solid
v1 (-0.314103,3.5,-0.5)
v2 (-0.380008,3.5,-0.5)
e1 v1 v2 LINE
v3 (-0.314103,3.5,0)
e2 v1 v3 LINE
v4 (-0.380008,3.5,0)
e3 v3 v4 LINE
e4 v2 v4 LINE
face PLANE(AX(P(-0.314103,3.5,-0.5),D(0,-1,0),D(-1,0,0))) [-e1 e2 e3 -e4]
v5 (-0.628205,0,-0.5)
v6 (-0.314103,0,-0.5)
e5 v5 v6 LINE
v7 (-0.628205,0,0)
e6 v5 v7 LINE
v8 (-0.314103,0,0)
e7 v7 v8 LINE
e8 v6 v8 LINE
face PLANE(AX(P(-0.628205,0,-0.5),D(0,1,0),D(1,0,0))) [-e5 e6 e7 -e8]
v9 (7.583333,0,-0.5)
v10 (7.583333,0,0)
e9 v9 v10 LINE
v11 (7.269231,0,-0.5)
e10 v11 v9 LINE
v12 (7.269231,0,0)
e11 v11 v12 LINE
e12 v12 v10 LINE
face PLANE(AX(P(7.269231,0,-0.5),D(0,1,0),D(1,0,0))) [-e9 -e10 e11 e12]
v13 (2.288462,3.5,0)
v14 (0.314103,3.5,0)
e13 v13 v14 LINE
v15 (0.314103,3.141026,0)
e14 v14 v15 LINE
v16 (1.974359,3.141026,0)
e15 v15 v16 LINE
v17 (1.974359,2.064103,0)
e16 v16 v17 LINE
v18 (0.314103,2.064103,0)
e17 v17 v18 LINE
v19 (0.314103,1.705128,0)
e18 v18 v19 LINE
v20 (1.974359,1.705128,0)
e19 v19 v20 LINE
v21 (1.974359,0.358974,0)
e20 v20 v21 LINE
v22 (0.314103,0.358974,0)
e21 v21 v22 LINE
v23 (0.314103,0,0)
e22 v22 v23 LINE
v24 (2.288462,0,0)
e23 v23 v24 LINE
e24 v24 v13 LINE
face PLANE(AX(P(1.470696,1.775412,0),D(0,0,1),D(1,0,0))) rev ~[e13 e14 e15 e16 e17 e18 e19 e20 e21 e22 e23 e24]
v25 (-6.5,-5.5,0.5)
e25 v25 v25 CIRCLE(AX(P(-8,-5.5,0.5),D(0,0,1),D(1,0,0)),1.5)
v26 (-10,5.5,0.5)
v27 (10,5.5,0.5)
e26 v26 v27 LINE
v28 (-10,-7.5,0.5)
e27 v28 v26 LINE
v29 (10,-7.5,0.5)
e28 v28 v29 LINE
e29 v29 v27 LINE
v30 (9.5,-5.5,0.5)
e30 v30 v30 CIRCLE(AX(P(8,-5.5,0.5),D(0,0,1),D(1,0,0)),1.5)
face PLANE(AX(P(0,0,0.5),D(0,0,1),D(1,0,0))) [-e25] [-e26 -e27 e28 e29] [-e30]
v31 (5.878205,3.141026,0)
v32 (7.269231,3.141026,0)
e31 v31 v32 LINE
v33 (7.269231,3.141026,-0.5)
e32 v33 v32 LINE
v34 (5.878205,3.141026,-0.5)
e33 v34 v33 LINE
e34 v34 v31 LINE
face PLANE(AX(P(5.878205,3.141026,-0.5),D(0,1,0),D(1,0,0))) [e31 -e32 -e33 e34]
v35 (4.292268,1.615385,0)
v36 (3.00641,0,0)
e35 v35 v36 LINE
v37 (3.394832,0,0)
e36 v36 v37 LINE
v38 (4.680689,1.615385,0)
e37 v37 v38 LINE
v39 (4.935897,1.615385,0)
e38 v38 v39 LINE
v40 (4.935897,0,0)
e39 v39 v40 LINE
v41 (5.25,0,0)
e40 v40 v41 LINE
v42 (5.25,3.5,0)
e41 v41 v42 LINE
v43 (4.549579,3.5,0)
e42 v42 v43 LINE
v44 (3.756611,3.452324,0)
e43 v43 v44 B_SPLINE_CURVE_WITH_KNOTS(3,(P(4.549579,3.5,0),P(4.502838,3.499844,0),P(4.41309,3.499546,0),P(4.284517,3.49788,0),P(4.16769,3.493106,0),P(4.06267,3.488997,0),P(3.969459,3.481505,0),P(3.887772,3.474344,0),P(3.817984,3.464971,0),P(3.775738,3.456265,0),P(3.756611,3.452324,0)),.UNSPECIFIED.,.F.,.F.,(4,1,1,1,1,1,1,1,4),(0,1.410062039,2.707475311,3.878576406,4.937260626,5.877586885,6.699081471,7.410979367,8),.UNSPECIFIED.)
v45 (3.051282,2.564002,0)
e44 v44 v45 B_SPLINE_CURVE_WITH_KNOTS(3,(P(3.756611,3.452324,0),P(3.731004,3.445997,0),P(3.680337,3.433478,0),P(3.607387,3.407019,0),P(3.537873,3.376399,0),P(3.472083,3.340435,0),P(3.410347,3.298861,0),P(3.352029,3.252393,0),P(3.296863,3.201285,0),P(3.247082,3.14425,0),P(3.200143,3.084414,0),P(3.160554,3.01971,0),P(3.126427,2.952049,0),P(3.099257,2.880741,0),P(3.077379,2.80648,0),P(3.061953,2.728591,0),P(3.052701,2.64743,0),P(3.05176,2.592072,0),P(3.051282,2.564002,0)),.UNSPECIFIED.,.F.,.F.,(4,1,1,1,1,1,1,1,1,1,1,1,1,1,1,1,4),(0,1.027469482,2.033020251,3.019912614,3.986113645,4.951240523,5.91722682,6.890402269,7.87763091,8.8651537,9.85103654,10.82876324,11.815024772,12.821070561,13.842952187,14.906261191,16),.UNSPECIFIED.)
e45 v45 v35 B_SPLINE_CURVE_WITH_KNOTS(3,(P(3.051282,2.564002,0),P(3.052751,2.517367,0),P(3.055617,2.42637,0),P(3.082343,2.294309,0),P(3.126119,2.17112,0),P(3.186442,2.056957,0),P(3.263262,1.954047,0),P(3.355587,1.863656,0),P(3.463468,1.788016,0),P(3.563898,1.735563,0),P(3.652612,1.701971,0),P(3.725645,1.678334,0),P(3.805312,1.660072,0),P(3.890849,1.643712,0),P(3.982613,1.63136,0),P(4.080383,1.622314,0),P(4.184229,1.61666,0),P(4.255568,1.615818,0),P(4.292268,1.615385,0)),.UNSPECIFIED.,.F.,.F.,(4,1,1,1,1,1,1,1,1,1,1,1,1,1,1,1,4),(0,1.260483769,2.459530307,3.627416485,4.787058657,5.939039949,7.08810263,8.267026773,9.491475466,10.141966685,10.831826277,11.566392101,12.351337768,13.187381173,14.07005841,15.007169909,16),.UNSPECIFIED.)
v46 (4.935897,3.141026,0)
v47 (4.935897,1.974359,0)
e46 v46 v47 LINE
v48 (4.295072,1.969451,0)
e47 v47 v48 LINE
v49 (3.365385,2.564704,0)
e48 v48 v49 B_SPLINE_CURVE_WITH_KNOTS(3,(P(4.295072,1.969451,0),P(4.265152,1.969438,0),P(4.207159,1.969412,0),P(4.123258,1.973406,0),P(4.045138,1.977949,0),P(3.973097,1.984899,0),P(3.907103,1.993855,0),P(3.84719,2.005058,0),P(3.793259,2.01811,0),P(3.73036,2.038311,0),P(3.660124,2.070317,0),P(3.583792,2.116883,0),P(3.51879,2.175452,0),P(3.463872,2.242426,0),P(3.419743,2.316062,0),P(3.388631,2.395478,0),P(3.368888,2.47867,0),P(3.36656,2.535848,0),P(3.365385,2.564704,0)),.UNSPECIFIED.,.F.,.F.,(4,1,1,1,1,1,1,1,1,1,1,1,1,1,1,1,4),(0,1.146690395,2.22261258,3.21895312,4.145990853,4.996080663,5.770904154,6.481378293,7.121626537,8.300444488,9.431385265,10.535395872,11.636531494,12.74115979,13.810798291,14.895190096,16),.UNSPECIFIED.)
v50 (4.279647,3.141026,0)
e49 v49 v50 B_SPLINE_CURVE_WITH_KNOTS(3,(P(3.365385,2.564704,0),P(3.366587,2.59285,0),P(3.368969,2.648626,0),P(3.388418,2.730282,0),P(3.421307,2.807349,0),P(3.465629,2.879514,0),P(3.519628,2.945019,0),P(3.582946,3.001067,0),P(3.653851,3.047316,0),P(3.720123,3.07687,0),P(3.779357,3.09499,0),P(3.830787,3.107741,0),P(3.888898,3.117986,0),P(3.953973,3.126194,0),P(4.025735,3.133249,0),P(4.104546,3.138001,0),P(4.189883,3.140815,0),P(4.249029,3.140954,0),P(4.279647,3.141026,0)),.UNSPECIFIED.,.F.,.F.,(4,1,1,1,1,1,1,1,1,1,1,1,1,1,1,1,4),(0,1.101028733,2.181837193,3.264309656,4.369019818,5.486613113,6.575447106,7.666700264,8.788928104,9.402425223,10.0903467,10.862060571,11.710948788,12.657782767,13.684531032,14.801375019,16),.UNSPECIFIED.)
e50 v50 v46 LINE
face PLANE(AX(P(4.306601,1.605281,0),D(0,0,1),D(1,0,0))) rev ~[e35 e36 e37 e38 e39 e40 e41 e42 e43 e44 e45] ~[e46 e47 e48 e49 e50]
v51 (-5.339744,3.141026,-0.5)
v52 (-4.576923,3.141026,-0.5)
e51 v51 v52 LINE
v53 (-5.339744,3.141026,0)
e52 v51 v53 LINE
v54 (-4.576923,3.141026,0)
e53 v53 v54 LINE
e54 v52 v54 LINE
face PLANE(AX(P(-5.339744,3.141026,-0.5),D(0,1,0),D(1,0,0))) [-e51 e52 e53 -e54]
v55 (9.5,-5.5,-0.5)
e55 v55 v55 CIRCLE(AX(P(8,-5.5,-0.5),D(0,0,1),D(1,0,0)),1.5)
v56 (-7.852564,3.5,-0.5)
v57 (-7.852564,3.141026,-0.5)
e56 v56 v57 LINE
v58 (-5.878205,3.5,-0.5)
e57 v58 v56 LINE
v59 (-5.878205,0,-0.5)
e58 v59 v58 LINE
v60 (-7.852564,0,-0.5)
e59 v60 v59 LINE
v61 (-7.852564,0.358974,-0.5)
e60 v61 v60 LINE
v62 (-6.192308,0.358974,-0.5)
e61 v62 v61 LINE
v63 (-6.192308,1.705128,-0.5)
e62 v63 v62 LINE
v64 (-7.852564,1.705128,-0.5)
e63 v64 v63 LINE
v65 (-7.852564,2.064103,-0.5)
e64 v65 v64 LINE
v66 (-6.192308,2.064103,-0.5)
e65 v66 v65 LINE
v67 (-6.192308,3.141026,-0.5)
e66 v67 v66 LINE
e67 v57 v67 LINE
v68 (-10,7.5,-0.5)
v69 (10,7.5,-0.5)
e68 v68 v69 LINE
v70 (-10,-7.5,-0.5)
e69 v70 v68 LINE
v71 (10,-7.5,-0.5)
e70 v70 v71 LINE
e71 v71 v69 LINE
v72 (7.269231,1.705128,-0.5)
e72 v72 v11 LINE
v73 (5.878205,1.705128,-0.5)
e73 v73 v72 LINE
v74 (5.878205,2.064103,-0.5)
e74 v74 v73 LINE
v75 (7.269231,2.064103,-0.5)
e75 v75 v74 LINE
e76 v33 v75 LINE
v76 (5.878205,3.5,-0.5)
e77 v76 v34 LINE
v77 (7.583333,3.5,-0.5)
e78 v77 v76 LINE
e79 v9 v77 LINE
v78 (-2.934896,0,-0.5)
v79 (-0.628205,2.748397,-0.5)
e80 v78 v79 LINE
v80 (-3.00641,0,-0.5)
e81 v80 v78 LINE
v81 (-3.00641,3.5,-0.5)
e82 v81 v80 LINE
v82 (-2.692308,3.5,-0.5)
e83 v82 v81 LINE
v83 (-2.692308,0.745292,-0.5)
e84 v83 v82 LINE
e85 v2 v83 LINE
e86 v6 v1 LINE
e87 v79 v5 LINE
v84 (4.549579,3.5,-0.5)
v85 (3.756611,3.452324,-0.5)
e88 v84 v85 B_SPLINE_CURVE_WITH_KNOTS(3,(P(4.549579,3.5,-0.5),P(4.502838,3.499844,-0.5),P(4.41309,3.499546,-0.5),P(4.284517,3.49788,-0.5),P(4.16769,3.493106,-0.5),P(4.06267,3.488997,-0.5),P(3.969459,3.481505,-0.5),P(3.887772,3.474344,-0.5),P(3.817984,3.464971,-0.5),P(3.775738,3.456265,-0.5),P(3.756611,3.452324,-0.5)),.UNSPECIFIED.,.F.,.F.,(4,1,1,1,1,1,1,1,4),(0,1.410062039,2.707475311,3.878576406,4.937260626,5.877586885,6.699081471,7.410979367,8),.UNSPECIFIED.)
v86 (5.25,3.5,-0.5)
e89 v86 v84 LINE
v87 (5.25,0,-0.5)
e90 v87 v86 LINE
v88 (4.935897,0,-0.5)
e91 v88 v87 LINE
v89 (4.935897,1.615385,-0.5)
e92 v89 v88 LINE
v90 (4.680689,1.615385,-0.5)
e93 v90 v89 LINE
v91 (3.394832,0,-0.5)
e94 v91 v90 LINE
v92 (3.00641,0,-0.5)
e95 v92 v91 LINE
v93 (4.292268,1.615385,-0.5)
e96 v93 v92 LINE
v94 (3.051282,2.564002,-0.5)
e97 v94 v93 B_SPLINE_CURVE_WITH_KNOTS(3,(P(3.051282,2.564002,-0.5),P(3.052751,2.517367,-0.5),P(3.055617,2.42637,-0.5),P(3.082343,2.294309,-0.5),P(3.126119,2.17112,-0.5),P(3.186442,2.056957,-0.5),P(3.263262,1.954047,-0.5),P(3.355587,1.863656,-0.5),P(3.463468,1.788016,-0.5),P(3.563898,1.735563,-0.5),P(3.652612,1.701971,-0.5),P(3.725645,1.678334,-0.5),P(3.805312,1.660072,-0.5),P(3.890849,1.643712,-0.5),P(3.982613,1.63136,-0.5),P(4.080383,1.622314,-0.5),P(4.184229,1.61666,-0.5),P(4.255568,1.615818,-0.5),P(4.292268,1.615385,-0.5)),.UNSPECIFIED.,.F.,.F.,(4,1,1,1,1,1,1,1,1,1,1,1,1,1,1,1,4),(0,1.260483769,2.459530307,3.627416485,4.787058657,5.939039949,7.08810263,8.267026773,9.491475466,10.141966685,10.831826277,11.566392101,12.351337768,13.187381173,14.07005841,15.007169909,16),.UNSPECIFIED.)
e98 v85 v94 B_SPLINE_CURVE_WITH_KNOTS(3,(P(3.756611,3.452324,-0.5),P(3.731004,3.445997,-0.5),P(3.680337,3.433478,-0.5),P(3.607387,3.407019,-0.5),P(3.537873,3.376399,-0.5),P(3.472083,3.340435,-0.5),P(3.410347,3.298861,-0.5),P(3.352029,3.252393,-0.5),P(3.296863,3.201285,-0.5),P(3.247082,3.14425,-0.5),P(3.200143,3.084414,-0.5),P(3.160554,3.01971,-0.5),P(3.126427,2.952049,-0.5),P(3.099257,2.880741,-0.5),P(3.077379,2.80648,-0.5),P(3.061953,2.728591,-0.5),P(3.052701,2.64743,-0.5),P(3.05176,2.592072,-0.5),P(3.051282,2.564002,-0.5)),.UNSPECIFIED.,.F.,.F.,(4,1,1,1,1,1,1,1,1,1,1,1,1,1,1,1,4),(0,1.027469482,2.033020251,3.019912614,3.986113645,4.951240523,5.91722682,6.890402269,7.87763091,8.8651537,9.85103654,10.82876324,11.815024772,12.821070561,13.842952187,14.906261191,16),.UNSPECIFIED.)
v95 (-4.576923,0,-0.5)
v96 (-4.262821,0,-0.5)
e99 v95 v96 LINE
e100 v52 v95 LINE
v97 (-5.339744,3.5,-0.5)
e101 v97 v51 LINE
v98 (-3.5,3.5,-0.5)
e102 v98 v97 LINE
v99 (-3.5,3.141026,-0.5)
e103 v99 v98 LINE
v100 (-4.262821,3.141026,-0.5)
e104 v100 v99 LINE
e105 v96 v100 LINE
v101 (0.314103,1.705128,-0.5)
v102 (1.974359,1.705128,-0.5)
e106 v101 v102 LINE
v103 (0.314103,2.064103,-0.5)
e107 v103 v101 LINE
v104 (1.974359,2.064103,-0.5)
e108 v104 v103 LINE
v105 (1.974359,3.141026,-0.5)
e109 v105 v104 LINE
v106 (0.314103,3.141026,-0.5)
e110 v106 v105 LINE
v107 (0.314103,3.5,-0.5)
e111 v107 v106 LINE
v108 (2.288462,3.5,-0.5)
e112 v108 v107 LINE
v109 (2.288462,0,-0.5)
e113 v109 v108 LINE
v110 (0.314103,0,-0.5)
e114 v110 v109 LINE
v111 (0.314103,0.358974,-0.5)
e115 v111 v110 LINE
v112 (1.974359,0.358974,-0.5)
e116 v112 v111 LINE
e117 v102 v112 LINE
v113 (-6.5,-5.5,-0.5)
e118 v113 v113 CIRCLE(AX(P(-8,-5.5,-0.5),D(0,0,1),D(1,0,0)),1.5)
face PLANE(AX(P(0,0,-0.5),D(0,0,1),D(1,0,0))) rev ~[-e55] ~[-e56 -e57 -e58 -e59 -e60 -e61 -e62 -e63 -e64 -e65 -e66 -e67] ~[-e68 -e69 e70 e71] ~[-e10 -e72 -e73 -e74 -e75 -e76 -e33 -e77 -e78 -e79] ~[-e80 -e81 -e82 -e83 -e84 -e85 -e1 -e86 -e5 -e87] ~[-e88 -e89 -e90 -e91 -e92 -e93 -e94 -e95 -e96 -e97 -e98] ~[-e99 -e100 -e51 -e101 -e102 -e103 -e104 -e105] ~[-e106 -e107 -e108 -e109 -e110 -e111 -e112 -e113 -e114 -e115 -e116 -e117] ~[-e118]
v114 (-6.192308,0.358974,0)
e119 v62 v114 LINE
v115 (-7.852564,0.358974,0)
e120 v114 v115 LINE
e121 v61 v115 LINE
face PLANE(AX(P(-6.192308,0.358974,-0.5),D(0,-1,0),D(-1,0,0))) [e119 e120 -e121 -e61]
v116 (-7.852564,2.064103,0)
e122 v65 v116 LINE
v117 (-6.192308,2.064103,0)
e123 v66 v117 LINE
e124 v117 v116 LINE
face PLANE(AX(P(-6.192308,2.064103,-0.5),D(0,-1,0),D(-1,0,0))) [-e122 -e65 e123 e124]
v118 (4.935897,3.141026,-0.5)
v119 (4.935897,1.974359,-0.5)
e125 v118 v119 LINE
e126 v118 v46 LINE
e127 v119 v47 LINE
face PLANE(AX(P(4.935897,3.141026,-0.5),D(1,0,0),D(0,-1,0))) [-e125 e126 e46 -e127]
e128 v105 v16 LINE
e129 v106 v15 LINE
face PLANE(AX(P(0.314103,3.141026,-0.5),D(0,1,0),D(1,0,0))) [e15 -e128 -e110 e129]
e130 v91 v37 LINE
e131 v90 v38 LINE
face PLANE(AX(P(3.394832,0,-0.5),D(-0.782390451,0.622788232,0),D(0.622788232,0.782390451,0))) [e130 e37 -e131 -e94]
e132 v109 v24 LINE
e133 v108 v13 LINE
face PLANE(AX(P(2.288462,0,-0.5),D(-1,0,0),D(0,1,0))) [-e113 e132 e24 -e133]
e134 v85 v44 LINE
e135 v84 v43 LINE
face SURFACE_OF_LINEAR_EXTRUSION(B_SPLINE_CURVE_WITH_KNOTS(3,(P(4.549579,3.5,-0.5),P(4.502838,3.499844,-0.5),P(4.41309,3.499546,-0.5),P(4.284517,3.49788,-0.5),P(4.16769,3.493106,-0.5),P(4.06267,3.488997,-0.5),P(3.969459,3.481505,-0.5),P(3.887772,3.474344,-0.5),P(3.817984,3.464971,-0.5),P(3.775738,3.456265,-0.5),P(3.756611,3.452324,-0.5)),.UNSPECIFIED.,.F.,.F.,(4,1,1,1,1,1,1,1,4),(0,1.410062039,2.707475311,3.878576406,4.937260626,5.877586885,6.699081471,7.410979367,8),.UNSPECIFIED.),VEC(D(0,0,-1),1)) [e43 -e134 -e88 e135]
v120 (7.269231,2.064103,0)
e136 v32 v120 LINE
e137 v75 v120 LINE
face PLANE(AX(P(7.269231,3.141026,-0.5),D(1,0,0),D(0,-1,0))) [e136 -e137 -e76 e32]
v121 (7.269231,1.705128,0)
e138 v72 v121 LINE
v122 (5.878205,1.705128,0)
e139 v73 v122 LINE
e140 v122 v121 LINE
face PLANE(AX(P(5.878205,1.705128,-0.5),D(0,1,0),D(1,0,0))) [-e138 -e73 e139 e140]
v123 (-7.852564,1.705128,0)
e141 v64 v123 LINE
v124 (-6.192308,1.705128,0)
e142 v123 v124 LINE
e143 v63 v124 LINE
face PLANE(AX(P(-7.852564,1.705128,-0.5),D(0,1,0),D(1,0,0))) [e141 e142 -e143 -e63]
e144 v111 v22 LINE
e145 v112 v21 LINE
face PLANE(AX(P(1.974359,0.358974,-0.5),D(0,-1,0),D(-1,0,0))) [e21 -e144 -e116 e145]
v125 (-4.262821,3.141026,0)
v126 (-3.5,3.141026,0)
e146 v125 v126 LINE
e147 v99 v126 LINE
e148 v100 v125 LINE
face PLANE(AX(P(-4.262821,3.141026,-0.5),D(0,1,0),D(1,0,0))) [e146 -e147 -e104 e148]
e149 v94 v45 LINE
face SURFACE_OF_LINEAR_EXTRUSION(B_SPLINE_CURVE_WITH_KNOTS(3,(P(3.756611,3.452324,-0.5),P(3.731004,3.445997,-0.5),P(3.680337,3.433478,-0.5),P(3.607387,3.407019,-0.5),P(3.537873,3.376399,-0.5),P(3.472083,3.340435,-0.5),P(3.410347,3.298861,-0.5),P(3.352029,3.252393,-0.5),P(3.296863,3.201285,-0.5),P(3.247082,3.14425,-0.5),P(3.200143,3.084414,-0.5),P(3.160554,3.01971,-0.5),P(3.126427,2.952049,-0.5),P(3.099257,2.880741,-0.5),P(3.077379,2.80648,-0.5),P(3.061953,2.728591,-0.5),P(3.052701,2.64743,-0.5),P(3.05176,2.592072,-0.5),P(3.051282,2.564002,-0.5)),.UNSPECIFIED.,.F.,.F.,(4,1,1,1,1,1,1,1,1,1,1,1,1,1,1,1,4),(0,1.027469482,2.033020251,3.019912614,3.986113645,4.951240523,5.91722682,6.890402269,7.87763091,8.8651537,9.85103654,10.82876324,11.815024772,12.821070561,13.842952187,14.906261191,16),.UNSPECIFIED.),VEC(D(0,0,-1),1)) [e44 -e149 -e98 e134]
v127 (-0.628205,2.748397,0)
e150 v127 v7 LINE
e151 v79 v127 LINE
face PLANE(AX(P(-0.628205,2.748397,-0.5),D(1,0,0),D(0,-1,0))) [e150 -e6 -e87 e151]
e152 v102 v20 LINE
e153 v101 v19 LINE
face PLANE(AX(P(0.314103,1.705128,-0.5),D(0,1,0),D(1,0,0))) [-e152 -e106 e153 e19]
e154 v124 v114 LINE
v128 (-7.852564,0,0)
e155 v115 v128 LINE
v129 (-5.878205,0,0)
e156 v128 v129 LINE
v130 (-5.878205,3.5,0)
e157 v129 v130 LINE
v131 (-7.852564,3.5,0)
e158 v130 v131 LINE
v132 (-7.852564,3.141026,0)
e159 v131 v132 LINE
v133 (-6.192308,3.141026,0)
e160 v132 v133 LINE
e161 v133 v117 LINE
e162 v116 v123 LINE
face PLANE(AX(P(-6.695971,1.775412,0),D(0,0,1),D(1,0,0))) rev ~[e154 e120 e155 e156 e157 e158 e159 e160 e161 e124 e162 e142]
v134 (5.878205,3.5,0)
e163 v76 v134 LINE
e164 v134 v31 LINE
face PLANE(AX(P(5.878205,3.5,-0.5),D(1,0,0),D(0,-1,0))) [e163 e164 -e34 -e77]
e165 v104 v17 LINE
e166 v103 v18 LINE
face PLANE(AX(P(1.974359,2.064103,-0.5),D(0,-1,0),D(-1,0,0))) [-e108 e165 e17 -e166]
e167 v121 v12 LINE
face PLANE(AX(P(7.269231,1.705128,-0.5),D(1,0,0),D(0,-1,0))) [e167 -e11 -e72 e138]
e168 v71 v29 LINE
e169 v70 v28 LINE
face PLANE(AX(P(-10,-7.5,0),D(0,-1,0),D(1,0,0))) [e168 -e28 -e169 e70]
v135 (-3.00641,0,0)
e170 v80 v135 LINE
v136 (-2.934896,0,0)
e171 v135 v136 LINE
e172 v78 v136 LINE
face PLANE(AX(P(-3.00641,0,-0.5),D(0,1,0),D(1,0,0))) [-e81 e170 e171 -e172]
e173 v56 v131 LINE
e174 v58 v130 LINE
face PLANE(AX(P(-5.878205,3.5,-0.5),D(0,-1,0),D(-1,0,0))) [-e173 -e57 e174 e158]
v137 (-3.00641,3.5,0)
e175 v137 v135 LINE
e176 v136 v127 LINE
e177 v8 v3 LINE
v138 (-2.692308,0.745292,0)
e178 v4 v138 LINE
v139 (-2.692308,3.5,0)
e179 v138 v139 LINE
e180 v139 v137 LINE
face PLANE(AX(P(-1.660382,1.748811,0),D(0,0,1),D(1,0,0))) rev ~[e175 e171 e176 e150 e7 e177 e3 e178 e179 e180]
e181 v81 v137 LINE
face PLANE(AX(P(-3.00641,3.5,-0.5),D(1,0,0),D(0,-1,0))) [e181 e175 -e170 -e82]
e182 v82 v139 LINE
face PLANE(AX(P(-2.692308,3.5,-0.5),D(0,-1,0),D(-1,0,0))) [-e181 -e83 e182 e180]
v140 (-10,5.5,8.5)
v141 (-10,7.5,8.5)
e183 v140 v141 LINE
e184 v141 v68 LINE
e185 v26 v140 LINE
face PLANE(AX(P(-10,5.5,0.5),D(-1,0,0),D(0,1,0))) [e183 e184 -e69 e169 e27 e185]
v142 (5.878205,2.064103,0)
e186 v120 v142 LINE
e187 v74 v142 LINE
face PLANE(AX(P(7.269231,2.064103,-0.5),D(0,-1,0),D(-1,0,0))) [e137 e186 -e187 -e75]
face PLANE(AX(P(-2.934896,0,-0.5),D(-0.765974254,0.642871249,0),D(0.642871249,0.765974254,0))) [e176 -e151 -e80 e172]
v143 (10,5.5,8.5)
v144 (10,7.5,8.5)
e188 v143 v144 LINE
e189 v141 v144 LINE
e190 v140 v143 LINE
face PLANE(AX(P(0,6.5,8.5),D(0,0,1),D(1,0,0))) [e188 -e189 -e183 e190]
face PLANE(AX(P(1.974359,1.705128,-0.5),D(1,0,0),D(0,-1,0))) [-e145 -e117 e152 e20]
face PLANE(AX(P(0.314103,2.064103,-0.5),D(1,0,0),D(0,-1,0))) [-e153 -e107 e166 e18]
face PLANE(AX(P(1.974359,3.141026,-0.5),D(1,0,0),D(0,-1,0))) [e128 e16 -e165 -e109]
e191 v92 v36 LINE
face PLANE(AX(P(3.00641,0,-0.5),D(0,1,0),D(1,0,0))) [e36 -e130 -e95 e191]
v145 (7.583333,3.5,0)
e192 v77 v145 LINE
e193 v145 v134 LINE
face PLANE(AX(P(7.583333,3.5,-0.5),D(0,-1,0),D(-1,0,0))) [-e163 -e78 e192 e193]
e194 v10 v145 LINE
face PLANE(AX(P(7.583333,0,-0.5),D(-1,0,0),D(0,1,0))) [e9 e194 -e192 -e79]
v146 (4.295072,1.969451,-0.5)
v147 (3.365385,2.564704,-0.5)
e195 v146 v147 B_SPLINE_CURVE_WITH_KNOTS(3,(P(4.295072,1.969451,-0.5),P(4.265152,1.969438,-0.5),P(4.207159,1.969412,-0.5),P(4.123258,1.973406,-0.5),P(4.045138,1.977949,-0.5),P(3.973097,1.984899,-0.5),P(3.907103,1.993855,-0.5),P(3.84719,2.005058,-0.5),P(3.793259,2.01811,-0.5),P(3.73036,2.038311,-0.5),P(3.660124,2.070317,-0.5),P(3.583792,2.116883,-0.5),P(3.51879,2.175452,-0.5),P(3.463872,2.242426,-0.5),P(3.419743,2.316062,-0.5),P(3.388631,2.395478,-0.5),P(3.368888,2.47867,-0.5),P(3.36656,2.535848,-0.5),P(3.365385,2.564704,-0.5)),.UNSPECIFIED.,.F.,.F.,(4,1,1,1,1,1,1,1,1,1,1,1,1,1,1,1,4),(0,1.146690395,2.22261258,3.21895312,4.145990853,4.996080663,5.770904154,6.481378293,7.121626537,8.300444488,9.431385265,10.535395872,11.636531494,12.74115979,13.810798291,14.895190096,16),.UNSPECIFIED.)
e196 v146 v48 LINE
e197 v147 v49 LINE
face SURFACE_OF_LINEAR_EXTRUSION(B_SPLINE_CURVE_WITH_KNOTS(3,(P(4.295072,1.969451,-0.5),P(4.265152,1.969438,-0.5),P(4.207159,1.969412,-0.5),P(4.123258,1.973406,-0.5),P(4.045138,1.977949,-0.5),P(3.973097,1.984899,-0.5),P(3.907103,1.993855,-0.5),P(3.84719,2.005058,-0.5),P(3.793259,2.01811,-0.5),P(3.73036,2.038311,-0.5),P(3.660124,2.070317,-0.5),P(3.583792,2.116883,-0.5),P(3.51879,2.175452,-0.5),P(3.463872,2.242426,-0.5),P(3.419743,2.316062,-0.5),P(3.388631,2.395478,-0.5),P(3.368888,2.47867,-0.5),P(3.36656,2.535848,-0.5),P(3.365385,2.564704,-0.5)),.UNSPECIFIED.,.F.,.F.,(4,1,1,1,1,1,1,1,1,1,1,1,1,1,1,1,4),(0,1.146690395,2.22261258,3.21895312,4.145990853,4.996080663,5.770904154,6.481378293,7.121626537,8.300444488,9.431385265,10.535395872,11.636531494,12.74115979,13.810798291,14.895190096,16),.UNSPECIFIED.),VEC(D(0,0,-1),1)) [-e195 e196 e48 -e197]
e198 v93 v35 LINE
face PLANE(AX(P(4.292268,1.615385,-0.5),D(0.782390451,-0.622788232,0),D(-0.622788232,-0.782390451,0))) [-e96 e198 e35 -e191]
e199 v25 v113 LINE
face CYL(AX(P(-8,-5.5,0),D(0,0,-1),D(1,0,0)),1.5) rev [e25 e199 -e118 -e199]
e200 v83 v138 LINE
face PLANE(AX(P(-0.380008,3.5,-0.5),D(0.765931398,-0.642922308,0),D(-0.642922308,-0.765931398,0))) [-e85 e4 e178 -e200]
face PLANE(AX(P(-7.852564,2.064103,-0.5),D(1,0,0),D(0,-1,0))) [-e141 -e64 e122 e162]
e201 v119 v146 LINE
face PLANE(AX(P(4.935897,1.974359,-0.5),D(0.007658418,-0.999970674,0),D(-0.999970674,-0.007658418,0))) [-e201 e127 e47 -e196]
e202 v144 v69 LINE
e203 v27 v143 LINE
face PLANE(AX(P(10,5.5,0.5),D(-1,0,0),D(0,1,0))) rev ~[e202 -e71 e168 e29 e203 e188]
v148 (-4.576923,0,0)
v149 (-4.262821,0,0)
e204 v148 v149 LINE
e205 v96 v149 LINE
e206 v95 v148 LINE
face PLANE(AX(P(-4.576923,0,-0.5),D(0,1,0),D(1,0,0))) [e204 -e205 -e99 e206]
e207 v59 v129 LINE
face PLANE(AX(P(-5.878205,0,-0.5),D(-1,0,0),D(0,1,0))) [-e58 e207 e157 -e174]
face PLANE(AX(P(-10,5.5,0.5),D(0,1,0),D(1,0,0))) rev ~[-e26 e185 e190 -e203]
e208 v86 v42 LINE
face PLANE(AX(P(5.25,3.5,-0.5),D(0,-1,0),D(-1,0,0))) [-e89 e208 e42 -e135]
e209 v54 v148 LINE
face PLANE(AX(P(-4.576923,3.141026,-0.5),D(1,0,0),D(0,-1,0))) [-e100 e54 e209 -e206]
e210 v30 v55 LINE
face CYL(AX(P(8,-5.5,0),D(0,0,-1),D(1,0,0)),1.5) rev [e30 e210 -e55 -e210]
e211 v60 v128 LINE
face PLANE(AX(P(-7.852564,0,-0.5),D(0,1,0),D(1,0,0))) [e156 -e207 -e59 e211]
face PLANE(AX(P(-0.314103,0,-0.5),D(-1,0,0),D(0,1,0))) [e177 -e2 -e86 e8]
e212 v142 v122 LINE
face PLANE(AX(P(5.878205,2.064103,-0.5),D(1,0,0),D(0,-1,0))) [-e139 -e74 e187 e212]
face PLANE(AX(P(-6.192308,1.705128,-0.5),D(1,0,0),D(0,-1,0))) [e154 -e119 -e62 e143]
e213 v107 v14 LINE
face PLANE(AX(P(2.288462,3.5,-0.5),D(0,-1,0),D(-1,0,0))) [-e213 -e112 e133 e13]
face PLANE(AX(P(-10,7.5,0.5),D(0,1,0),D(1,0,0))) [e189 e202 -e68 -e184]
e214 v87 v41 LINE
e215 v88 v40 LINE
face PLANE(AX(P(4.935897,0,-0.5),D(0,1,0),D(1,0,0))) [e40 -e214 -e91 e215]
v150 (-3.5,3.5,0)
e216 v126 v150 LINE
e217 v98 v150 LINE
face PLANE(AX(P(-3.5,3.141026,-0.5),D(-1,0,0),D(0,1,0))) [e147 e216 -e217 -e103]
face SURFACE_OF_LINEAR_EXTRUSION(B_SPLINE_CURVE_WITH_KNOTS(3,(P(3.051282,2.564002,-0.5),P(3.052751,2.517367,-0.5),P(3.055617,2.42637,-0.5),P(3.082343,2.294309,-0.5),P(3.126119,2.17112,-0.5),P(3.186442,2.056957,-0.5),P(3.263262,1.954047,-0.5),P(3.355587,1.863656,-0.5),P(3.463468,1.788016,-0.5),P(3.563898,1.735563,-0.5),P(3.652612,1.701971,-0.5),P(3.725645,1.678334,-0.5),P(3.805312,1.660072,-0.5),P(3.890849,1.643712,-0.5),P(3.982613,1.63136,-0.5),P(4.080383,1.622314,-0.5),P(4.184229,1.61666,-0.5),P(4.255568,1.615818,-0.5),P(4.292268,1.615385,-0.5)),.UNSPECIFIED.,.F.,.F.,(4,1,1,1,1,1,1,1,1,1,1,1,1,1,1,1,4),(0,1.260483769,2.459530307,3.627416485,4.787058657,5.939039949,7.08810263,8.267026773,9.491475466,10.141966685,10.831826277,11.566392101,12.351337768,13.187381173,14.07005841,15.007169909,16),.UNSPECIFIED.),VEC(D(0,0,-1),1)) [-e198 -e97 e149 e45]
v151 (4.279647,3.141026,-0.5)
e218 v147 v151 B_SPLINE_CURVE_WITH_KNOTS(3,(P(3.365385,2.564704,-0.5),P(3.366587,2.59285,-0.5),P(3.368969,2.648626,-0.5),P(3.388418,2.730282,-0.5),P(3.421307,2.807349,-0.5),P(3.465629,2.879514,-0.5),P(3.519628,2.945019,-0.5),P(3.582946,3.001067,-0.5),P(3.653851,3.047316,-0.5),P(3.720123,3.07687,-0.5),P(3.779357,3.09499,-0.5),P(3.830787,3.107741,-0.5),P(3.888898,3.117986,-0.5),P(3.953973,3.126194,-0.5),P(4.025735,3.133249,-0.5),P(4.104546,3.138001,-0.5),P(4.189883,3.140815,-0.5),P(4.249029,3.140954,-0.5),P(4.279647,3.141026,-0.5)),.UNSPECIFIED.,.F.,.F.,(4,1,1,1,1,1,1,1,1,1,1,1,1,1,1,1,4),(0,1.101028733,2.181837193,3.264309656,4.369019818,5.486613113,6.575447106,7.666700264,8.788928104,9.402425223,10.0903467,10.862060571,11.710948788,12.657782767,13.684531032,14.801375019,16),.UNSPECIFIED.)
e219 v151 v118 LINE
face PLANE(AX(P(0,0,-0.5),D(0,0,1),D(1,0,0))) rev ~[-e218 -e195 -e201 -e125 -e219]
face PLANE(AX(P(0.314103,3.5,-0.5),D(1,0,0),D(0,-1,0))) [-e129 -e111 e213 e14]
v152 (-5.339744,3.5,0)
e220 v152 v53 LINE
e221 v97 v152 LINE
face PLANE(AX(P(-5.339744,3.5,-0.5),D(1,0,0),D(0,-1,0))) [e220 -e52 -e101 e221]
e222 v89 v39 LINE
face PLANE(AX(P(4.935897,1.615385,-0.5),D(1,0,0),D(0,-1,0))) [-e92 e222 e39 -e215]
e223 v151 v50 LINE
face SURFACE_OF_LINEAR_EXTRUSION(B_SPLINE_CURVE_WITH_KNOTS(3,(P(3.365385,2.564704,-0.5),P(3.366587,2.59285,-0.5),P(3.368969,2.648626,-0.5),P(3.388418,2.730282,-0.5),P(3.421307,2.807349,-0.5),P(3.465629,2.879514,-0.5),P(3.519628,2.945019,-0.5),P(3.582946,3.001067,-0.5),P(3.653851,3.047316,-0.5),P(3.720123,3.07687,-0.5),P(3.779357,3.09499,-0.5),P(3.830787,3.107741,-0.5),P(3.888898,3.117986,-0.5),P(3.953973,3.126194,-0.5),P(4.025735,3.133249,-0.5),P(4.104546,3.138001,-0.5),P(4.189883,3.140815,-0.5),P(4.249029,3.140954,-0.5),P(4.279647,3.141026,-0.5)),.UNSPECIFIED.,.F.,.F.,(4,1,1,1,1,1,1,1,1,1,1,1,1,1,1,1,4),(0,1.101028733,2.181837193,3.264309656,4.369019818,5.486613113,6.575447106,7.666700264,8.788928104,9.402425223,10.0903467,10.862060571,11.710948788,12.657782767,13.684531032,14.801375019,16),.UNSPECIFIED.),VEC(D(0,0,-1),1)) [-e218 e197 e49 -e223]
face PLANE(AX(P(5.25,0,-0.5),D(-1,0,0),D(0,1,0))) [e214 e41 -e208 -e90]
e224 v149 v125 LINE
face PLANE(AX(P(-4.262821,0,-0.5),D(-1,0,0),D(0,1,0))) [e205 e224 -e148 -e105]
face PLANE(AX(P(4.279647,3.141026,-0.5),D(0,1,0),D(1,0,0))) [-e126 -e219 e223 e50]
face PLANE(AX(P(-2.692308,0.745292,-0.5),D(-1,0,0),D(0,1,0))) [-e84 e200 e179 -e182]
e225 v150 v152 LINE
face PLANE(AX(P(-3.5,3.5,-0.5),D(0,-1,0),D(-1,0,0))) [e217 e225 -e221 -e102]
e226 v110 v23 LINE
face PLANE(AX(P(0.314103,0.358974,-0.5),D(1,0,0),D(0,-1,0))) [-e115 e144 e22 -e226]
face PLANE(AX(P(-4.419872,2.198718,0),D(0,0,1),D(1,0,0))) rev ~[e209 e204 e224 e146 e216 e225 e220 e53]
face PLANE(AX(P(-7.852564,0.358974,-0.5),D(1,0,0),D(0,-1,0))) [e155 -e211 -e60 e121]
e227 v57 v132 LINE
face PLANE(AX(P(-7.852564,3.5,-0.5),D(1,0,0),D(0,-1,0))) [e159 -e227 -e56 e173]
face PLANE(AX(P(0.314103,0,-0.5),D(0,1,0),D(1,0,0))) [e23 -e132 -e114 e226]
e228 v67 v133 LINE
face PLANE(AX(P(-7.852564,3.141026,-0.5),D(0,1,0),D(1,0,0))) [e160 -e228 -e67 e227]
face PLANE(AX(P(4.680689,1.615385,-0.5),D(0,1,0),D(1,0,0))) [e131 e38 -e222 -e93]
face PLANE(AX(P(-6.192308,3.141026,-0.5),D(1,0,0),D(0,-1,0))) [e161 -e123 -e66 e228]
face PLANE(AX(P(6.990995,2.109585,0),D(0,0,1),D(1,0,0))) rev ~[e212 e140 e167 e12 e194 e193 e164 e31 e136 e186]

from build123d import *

# Parameters (mm, degrees)
ESBO_O1_W                = 20
ESBO_O1_H                = 15
ESBO_O1_R                = 1.5
RESSALTO_EXTRUS_O1_DEPTH = 0.5
ESBO_O2_W                = 20
ESBO_O2_H                = 2
RESSALTO_EXTRUS_O2_DEPTH = 8
CORTE_EXTRUS_O1_DEPTH    = 0.5


with BuildPart() as part:
    # Esboço1 → Ressalto-extrusão1 (new, symmetric)
    with BuildSketch(Plane.XY):
        Rectangle(ESBO_O1_W, ESBO_O1_H)
        with Locations((-8, -5.5)):
            Circle(ESBO_O1_R, mode=Mode.SUBTRACT)
        with Locations((8, -5.5)):
            Circle(ESBO_O1_R, mode=Mode.SUBTRACT)
    extrude(amount=RESSALTO_EXTRUS_O1_DEPTH, both=True)

    # Esboço2 → Ressalto-extrusão2 (add)
    with BuildSketch(Plane.XY.offset(0.5)):
        with Locations((0, 6.5)):
            Rectangle(ESBO_O2_W, ESBO_O2_H)
    extrude(amount=RESSALTO_EXTRUS_O2_DEPTH)

    # Esboço3 → Corte-extrusão1 (cut)
    # profile 1 of 6: a face of its own
    with BuildSketch(Plane(origin=(0, 0, -0.5), x_dir=(-1, 0, 0), z_dir=(0, 0, -1))):
        Polygon((-7.583333333, 3.5), (-5.878205128, 3.5), (-5.878205128, 3.141025641), (-7.269230769, 3.141025641), (-7.269230769, 2.064102564), (-5.878205128, 2.064102564), (-5.878205128, 1.705128205), (-7.269230769, 1.705128205), (-7.269230769, 0), (-7.583333333, 0), align=None)
    # profile 2 of 6: a face of its own
    with BuildSketch(Plane(origin=(0, 0, -0.5), x_dir=(-1, 0, 0), z_dir=(0, 0, -1))):
        with BuildLine():
            Line((-5.25, 3.5), (-4.549579327, 3.5))
            add(Edge.make_bspline(
                [(-4.549579327, 3.5), (-4.502838198, 3.499844414), (-4.413090054, 3.499545672), (-4.284516784, 3.497879909), (-4.167689687, 3.493105553), (-4.062669847, 3.48899697), (-3.969459192, 3.481505028), (-3.887771902, 3.474344381), (-3.817984204, 3.46497072), (-3.775738353, 3.456265297), (-3.756610577, 3.452323718)],
                knots=[0, 0, 0, 0, 1.410062039, 2.707475311, 3.878576406, 4.937260626, 5.877586885, 6.699081471, 7.410979367, 8, 8, 8, 8], degree=3))
            add(Edge.make_bspline(
                [(-3.756610577, 3.452323718), (-3.731003953, 3.445996953), (-3.680336963, 3.433478389), (-3.607386897, 3.407018788), (-3.537872573, 3.376399163), (-3.472082749, 3.340435443), (-3.410346958, 3.298860663), (-3.352028647, 3.252392541), (-3.296863184, 3.201285335), (-3.247081553, 3.144250494), (-3.200142502, 3.084413984), (-3.160553875, 3.019710227), (-3.126427396, 2.9520487), (-3.099256879, 2.880741282), (-3.077378905, 2.80647951), (-3.061952666, 2.728590713), (-3.052701478, 2.647429738), (-3.051759623, 2.59207183), (-3.051282051, 2.564002404)],
                knots=[0, 0, 0, 0, 1.027469482, 2.033020251, 3.019912614, 3.986113645, 4.951240523, 5.91722682, 6.890402269, 7.87763091, 8.8651537, 9.85103654, 10.82876324, 11.815024772, 12.821070561, 13.842952187, 14.906261191, 16, 16, 16, 16], degree=3))
            add(Edge.make_bspline(
                [(-3.051282051, 2.564002404), (-3.052751049, 2.517367299), (-3.055617445, 2.426370131), (-3.082342549, 2.29430925), (-3.126119069, 2.171119935), (-3.186442358, 2.056957297), (-3.263261833, 1.954046652), (-3.355586624, 1.863656197), (-3.463468236, 1.788016284), (-3.563897552, 1.735563479), (-3.652611752, 1.701970571), (-3.725645064, 1.678334212), (-3.805312042, 1.660072247), (-3.890849376, 1.643712115), (-3.982613032, 1.63136042), (-4.080383071, 1.622313826), (-4.184229223, 1.616659777), (-4.255568292, 1.615817772), (-4.292267628, 1.615384615)],
                knots=[0, 0, 0, 0, 1.260483769, 2.459530307, 3.627416485, 4.787058657, 5.939039949, 7.08810263, 8.267026773, 9.491475466, 10.141966685, 10.831826277, 11.566392101, 12.351337768, 13.187381173, 14.07005841, 15.007169909, 16, 16, 16, 16], degree=3))
            Line((-4.292267628, 1.615384615), (-3.006410256, 0))
            Line((-3.006410256, 0), (-3.394831731, 0))
            Line((-3.394831731, 0), (-4.680689103, 1.615384615))
            Line((-4.680689103, 1.615384615), (-4.935897436, 1.615384615))
            Line((-4.935897436, 1.615384615), (-4.935897436, 0))
            Line((-4.935897436, 0), (-5.25, 0))
            Line((-5.25, 0), (-5.25, 3.5))
        make_face()
        with BuildLine():
            Line((-4.935897436, 3.141025641), (-4.935897436, 1.974358974))
            Line((-4.935897436, 1.974358974), (-4.295072115, 1.969451122))
            add(Edge.make_bspline(
                [(-4.295072115, 1.969451122), (-4.265152076, 1.969437885), (-4.207158519, 1.969412229), (-4.123257855, 1.973406005), (-4.045137743, 1.977949323), (-3.973096991, 1.984898669), (-3.907103415, 1.99385474), (-3.847190002, 2.005057725), (-3.79325895, 2.018109787), (-3.730360412, 2.038311413), (-3.66012388, 2.070317431), (-3.583792421, 2.11688293), (-3.518790083, 2.175452049), (-3.463872221, 2.242425505), (-3.419742789, 2.316061754), (-3.388630735, 2.395478123), (-3.368888292, 2.478669721), (-3.366559747, 2.535847829), (-3.365384615, 2.564703526)],
                knots=[0, 0, 0, 0, 1.146690395, 2.22261258, 3.21895312, 4.145990853, 4.996080663, 5.770904154, 6.481378293, 7.121626537, 8.300444488, 9.431385265, 10.535395872, 11.636531494, 12.74115979, 13.810798291, 14.895190096, 16, 16, 16, 16], degree=3))
            add(Edge.make_bspline(
                [(-3.365384615, 2.564703526), (-3.366586736, 2.592850099), (-3.368968902, 2.648626338), (-3.38841767, 2.730282248), (-3.421307052, 2.807349198), (-3.46562929, 2.879513683), (-3.519628445, 2.945019419), (-3.582946257, 3.001066572), (-3.653851452, 3.047316037), (-3.720122651, 3.076870418), (-3.779356863, 3.094990271), (-3.830786523, 3.107741435), (-3.888898001, 3.117985904), (-3.95397346, 3.126193964), (-4.02573509, 3.133248909), (-4.104545742, 3.138000687), (-4.189882522, 3.140814551), (-4.249029453, 3.14095364), (-4.279647436, 3.141025641)],
                knots=[0, 0, 0, 0, 1.101028733, 2.181837193, 3.264309656, 4.369019818, 5.486613113, 6.575447106, 7.666700264, 8.788928104, 9.402425223, 10.0903467, 10.862060571, 11.710948788, 12.657782767, 13.684531032, 14.801375019, 16, 16, 16, 16], degree=3))
            Line((-4.279647436, 3.141025641), (-4.935897436, 3.141025641))
        make_face(mode=Mode.SUBTRACT)
    # profile 3 of 6: a face of its own
    with BuildSketch(Plane(origin=(0, 0, -0.5), x_dir=(-1, 0, 0), z_dir=(0, 0, -1))):
        Polygon((-2.288461538, 3.5), (-0.314102564, 3.5), (-0.314102564, 3.141025641), (-1.974358974, 3.141025641), (-1.974358974, 2.064102564), (-0.314102564, 2.064102564), (-0.314102564, 1.705128205), (-1.974358974, 1.705128205), (-1.974358974, 0.358974359), (-0.314102564, 0.358974359), (-0.314102564, 0), (-2.288461538, 0), align=None)
    # profile 4 of 6: a face of its own
    with BuildSketch(Plane(origin=(0, 0, -0.5), x_dir=(-1, 0, 0), z_dir=(0, 0, -1))):
        Polygon((0.314102564, 0), (0.314102564, 3.5), (0.380008013, 3.5), (2.692307692, 0.745292468), (2.692307692, 3.5), (3.006410256, 3.5), (3.006410256, 0), (2.934895833, 0), (0.628205128, 2.748397436), (0.628205128, 0), align=None)
    # profile 5 of 6: a face of its own
    with BuildSketch(Plane(origin=(0, 0, -0.5), x_dir=(-1, 0, 0), z_dir=(0, 0, -1))):
        Polygon((3.5, 3.141025641), (3.5, 3.5), (5.33974359, 3.5), (5.33974359, 3.141025641), (4.576923077, 3.141025641), (4.576923077, 0), (4.262820513, 0), (4.262820513, 3.141025641), align=None)
    # profile 6 of 6: a face of its own
    with BuildSketch(Plane(origin=(0, 0, -0.5), x_dir=(-1, 0, 0), z_dir=(0, 0, -1))):
        Polygon((5.878205128, 3.5), (7.852564103, 3.5), (7.852564103, 3.141025641), (6.192307692, 3.141025641), (6.192307692, 2.064102564), (7.852564103, 2.064102564), (7.852564103, 1.705128205), (6.192307692, 1.705128205), (6.192307692, 0.358974359), (7.852564103, 0.358974359), (7.852564103, 0), (5.878205128, 0), align=None)
    extrude(amount=-CORTE_EXTRUS_O1_DEPTH, mode=Mode.SUBTRACT)


solid = part.part
